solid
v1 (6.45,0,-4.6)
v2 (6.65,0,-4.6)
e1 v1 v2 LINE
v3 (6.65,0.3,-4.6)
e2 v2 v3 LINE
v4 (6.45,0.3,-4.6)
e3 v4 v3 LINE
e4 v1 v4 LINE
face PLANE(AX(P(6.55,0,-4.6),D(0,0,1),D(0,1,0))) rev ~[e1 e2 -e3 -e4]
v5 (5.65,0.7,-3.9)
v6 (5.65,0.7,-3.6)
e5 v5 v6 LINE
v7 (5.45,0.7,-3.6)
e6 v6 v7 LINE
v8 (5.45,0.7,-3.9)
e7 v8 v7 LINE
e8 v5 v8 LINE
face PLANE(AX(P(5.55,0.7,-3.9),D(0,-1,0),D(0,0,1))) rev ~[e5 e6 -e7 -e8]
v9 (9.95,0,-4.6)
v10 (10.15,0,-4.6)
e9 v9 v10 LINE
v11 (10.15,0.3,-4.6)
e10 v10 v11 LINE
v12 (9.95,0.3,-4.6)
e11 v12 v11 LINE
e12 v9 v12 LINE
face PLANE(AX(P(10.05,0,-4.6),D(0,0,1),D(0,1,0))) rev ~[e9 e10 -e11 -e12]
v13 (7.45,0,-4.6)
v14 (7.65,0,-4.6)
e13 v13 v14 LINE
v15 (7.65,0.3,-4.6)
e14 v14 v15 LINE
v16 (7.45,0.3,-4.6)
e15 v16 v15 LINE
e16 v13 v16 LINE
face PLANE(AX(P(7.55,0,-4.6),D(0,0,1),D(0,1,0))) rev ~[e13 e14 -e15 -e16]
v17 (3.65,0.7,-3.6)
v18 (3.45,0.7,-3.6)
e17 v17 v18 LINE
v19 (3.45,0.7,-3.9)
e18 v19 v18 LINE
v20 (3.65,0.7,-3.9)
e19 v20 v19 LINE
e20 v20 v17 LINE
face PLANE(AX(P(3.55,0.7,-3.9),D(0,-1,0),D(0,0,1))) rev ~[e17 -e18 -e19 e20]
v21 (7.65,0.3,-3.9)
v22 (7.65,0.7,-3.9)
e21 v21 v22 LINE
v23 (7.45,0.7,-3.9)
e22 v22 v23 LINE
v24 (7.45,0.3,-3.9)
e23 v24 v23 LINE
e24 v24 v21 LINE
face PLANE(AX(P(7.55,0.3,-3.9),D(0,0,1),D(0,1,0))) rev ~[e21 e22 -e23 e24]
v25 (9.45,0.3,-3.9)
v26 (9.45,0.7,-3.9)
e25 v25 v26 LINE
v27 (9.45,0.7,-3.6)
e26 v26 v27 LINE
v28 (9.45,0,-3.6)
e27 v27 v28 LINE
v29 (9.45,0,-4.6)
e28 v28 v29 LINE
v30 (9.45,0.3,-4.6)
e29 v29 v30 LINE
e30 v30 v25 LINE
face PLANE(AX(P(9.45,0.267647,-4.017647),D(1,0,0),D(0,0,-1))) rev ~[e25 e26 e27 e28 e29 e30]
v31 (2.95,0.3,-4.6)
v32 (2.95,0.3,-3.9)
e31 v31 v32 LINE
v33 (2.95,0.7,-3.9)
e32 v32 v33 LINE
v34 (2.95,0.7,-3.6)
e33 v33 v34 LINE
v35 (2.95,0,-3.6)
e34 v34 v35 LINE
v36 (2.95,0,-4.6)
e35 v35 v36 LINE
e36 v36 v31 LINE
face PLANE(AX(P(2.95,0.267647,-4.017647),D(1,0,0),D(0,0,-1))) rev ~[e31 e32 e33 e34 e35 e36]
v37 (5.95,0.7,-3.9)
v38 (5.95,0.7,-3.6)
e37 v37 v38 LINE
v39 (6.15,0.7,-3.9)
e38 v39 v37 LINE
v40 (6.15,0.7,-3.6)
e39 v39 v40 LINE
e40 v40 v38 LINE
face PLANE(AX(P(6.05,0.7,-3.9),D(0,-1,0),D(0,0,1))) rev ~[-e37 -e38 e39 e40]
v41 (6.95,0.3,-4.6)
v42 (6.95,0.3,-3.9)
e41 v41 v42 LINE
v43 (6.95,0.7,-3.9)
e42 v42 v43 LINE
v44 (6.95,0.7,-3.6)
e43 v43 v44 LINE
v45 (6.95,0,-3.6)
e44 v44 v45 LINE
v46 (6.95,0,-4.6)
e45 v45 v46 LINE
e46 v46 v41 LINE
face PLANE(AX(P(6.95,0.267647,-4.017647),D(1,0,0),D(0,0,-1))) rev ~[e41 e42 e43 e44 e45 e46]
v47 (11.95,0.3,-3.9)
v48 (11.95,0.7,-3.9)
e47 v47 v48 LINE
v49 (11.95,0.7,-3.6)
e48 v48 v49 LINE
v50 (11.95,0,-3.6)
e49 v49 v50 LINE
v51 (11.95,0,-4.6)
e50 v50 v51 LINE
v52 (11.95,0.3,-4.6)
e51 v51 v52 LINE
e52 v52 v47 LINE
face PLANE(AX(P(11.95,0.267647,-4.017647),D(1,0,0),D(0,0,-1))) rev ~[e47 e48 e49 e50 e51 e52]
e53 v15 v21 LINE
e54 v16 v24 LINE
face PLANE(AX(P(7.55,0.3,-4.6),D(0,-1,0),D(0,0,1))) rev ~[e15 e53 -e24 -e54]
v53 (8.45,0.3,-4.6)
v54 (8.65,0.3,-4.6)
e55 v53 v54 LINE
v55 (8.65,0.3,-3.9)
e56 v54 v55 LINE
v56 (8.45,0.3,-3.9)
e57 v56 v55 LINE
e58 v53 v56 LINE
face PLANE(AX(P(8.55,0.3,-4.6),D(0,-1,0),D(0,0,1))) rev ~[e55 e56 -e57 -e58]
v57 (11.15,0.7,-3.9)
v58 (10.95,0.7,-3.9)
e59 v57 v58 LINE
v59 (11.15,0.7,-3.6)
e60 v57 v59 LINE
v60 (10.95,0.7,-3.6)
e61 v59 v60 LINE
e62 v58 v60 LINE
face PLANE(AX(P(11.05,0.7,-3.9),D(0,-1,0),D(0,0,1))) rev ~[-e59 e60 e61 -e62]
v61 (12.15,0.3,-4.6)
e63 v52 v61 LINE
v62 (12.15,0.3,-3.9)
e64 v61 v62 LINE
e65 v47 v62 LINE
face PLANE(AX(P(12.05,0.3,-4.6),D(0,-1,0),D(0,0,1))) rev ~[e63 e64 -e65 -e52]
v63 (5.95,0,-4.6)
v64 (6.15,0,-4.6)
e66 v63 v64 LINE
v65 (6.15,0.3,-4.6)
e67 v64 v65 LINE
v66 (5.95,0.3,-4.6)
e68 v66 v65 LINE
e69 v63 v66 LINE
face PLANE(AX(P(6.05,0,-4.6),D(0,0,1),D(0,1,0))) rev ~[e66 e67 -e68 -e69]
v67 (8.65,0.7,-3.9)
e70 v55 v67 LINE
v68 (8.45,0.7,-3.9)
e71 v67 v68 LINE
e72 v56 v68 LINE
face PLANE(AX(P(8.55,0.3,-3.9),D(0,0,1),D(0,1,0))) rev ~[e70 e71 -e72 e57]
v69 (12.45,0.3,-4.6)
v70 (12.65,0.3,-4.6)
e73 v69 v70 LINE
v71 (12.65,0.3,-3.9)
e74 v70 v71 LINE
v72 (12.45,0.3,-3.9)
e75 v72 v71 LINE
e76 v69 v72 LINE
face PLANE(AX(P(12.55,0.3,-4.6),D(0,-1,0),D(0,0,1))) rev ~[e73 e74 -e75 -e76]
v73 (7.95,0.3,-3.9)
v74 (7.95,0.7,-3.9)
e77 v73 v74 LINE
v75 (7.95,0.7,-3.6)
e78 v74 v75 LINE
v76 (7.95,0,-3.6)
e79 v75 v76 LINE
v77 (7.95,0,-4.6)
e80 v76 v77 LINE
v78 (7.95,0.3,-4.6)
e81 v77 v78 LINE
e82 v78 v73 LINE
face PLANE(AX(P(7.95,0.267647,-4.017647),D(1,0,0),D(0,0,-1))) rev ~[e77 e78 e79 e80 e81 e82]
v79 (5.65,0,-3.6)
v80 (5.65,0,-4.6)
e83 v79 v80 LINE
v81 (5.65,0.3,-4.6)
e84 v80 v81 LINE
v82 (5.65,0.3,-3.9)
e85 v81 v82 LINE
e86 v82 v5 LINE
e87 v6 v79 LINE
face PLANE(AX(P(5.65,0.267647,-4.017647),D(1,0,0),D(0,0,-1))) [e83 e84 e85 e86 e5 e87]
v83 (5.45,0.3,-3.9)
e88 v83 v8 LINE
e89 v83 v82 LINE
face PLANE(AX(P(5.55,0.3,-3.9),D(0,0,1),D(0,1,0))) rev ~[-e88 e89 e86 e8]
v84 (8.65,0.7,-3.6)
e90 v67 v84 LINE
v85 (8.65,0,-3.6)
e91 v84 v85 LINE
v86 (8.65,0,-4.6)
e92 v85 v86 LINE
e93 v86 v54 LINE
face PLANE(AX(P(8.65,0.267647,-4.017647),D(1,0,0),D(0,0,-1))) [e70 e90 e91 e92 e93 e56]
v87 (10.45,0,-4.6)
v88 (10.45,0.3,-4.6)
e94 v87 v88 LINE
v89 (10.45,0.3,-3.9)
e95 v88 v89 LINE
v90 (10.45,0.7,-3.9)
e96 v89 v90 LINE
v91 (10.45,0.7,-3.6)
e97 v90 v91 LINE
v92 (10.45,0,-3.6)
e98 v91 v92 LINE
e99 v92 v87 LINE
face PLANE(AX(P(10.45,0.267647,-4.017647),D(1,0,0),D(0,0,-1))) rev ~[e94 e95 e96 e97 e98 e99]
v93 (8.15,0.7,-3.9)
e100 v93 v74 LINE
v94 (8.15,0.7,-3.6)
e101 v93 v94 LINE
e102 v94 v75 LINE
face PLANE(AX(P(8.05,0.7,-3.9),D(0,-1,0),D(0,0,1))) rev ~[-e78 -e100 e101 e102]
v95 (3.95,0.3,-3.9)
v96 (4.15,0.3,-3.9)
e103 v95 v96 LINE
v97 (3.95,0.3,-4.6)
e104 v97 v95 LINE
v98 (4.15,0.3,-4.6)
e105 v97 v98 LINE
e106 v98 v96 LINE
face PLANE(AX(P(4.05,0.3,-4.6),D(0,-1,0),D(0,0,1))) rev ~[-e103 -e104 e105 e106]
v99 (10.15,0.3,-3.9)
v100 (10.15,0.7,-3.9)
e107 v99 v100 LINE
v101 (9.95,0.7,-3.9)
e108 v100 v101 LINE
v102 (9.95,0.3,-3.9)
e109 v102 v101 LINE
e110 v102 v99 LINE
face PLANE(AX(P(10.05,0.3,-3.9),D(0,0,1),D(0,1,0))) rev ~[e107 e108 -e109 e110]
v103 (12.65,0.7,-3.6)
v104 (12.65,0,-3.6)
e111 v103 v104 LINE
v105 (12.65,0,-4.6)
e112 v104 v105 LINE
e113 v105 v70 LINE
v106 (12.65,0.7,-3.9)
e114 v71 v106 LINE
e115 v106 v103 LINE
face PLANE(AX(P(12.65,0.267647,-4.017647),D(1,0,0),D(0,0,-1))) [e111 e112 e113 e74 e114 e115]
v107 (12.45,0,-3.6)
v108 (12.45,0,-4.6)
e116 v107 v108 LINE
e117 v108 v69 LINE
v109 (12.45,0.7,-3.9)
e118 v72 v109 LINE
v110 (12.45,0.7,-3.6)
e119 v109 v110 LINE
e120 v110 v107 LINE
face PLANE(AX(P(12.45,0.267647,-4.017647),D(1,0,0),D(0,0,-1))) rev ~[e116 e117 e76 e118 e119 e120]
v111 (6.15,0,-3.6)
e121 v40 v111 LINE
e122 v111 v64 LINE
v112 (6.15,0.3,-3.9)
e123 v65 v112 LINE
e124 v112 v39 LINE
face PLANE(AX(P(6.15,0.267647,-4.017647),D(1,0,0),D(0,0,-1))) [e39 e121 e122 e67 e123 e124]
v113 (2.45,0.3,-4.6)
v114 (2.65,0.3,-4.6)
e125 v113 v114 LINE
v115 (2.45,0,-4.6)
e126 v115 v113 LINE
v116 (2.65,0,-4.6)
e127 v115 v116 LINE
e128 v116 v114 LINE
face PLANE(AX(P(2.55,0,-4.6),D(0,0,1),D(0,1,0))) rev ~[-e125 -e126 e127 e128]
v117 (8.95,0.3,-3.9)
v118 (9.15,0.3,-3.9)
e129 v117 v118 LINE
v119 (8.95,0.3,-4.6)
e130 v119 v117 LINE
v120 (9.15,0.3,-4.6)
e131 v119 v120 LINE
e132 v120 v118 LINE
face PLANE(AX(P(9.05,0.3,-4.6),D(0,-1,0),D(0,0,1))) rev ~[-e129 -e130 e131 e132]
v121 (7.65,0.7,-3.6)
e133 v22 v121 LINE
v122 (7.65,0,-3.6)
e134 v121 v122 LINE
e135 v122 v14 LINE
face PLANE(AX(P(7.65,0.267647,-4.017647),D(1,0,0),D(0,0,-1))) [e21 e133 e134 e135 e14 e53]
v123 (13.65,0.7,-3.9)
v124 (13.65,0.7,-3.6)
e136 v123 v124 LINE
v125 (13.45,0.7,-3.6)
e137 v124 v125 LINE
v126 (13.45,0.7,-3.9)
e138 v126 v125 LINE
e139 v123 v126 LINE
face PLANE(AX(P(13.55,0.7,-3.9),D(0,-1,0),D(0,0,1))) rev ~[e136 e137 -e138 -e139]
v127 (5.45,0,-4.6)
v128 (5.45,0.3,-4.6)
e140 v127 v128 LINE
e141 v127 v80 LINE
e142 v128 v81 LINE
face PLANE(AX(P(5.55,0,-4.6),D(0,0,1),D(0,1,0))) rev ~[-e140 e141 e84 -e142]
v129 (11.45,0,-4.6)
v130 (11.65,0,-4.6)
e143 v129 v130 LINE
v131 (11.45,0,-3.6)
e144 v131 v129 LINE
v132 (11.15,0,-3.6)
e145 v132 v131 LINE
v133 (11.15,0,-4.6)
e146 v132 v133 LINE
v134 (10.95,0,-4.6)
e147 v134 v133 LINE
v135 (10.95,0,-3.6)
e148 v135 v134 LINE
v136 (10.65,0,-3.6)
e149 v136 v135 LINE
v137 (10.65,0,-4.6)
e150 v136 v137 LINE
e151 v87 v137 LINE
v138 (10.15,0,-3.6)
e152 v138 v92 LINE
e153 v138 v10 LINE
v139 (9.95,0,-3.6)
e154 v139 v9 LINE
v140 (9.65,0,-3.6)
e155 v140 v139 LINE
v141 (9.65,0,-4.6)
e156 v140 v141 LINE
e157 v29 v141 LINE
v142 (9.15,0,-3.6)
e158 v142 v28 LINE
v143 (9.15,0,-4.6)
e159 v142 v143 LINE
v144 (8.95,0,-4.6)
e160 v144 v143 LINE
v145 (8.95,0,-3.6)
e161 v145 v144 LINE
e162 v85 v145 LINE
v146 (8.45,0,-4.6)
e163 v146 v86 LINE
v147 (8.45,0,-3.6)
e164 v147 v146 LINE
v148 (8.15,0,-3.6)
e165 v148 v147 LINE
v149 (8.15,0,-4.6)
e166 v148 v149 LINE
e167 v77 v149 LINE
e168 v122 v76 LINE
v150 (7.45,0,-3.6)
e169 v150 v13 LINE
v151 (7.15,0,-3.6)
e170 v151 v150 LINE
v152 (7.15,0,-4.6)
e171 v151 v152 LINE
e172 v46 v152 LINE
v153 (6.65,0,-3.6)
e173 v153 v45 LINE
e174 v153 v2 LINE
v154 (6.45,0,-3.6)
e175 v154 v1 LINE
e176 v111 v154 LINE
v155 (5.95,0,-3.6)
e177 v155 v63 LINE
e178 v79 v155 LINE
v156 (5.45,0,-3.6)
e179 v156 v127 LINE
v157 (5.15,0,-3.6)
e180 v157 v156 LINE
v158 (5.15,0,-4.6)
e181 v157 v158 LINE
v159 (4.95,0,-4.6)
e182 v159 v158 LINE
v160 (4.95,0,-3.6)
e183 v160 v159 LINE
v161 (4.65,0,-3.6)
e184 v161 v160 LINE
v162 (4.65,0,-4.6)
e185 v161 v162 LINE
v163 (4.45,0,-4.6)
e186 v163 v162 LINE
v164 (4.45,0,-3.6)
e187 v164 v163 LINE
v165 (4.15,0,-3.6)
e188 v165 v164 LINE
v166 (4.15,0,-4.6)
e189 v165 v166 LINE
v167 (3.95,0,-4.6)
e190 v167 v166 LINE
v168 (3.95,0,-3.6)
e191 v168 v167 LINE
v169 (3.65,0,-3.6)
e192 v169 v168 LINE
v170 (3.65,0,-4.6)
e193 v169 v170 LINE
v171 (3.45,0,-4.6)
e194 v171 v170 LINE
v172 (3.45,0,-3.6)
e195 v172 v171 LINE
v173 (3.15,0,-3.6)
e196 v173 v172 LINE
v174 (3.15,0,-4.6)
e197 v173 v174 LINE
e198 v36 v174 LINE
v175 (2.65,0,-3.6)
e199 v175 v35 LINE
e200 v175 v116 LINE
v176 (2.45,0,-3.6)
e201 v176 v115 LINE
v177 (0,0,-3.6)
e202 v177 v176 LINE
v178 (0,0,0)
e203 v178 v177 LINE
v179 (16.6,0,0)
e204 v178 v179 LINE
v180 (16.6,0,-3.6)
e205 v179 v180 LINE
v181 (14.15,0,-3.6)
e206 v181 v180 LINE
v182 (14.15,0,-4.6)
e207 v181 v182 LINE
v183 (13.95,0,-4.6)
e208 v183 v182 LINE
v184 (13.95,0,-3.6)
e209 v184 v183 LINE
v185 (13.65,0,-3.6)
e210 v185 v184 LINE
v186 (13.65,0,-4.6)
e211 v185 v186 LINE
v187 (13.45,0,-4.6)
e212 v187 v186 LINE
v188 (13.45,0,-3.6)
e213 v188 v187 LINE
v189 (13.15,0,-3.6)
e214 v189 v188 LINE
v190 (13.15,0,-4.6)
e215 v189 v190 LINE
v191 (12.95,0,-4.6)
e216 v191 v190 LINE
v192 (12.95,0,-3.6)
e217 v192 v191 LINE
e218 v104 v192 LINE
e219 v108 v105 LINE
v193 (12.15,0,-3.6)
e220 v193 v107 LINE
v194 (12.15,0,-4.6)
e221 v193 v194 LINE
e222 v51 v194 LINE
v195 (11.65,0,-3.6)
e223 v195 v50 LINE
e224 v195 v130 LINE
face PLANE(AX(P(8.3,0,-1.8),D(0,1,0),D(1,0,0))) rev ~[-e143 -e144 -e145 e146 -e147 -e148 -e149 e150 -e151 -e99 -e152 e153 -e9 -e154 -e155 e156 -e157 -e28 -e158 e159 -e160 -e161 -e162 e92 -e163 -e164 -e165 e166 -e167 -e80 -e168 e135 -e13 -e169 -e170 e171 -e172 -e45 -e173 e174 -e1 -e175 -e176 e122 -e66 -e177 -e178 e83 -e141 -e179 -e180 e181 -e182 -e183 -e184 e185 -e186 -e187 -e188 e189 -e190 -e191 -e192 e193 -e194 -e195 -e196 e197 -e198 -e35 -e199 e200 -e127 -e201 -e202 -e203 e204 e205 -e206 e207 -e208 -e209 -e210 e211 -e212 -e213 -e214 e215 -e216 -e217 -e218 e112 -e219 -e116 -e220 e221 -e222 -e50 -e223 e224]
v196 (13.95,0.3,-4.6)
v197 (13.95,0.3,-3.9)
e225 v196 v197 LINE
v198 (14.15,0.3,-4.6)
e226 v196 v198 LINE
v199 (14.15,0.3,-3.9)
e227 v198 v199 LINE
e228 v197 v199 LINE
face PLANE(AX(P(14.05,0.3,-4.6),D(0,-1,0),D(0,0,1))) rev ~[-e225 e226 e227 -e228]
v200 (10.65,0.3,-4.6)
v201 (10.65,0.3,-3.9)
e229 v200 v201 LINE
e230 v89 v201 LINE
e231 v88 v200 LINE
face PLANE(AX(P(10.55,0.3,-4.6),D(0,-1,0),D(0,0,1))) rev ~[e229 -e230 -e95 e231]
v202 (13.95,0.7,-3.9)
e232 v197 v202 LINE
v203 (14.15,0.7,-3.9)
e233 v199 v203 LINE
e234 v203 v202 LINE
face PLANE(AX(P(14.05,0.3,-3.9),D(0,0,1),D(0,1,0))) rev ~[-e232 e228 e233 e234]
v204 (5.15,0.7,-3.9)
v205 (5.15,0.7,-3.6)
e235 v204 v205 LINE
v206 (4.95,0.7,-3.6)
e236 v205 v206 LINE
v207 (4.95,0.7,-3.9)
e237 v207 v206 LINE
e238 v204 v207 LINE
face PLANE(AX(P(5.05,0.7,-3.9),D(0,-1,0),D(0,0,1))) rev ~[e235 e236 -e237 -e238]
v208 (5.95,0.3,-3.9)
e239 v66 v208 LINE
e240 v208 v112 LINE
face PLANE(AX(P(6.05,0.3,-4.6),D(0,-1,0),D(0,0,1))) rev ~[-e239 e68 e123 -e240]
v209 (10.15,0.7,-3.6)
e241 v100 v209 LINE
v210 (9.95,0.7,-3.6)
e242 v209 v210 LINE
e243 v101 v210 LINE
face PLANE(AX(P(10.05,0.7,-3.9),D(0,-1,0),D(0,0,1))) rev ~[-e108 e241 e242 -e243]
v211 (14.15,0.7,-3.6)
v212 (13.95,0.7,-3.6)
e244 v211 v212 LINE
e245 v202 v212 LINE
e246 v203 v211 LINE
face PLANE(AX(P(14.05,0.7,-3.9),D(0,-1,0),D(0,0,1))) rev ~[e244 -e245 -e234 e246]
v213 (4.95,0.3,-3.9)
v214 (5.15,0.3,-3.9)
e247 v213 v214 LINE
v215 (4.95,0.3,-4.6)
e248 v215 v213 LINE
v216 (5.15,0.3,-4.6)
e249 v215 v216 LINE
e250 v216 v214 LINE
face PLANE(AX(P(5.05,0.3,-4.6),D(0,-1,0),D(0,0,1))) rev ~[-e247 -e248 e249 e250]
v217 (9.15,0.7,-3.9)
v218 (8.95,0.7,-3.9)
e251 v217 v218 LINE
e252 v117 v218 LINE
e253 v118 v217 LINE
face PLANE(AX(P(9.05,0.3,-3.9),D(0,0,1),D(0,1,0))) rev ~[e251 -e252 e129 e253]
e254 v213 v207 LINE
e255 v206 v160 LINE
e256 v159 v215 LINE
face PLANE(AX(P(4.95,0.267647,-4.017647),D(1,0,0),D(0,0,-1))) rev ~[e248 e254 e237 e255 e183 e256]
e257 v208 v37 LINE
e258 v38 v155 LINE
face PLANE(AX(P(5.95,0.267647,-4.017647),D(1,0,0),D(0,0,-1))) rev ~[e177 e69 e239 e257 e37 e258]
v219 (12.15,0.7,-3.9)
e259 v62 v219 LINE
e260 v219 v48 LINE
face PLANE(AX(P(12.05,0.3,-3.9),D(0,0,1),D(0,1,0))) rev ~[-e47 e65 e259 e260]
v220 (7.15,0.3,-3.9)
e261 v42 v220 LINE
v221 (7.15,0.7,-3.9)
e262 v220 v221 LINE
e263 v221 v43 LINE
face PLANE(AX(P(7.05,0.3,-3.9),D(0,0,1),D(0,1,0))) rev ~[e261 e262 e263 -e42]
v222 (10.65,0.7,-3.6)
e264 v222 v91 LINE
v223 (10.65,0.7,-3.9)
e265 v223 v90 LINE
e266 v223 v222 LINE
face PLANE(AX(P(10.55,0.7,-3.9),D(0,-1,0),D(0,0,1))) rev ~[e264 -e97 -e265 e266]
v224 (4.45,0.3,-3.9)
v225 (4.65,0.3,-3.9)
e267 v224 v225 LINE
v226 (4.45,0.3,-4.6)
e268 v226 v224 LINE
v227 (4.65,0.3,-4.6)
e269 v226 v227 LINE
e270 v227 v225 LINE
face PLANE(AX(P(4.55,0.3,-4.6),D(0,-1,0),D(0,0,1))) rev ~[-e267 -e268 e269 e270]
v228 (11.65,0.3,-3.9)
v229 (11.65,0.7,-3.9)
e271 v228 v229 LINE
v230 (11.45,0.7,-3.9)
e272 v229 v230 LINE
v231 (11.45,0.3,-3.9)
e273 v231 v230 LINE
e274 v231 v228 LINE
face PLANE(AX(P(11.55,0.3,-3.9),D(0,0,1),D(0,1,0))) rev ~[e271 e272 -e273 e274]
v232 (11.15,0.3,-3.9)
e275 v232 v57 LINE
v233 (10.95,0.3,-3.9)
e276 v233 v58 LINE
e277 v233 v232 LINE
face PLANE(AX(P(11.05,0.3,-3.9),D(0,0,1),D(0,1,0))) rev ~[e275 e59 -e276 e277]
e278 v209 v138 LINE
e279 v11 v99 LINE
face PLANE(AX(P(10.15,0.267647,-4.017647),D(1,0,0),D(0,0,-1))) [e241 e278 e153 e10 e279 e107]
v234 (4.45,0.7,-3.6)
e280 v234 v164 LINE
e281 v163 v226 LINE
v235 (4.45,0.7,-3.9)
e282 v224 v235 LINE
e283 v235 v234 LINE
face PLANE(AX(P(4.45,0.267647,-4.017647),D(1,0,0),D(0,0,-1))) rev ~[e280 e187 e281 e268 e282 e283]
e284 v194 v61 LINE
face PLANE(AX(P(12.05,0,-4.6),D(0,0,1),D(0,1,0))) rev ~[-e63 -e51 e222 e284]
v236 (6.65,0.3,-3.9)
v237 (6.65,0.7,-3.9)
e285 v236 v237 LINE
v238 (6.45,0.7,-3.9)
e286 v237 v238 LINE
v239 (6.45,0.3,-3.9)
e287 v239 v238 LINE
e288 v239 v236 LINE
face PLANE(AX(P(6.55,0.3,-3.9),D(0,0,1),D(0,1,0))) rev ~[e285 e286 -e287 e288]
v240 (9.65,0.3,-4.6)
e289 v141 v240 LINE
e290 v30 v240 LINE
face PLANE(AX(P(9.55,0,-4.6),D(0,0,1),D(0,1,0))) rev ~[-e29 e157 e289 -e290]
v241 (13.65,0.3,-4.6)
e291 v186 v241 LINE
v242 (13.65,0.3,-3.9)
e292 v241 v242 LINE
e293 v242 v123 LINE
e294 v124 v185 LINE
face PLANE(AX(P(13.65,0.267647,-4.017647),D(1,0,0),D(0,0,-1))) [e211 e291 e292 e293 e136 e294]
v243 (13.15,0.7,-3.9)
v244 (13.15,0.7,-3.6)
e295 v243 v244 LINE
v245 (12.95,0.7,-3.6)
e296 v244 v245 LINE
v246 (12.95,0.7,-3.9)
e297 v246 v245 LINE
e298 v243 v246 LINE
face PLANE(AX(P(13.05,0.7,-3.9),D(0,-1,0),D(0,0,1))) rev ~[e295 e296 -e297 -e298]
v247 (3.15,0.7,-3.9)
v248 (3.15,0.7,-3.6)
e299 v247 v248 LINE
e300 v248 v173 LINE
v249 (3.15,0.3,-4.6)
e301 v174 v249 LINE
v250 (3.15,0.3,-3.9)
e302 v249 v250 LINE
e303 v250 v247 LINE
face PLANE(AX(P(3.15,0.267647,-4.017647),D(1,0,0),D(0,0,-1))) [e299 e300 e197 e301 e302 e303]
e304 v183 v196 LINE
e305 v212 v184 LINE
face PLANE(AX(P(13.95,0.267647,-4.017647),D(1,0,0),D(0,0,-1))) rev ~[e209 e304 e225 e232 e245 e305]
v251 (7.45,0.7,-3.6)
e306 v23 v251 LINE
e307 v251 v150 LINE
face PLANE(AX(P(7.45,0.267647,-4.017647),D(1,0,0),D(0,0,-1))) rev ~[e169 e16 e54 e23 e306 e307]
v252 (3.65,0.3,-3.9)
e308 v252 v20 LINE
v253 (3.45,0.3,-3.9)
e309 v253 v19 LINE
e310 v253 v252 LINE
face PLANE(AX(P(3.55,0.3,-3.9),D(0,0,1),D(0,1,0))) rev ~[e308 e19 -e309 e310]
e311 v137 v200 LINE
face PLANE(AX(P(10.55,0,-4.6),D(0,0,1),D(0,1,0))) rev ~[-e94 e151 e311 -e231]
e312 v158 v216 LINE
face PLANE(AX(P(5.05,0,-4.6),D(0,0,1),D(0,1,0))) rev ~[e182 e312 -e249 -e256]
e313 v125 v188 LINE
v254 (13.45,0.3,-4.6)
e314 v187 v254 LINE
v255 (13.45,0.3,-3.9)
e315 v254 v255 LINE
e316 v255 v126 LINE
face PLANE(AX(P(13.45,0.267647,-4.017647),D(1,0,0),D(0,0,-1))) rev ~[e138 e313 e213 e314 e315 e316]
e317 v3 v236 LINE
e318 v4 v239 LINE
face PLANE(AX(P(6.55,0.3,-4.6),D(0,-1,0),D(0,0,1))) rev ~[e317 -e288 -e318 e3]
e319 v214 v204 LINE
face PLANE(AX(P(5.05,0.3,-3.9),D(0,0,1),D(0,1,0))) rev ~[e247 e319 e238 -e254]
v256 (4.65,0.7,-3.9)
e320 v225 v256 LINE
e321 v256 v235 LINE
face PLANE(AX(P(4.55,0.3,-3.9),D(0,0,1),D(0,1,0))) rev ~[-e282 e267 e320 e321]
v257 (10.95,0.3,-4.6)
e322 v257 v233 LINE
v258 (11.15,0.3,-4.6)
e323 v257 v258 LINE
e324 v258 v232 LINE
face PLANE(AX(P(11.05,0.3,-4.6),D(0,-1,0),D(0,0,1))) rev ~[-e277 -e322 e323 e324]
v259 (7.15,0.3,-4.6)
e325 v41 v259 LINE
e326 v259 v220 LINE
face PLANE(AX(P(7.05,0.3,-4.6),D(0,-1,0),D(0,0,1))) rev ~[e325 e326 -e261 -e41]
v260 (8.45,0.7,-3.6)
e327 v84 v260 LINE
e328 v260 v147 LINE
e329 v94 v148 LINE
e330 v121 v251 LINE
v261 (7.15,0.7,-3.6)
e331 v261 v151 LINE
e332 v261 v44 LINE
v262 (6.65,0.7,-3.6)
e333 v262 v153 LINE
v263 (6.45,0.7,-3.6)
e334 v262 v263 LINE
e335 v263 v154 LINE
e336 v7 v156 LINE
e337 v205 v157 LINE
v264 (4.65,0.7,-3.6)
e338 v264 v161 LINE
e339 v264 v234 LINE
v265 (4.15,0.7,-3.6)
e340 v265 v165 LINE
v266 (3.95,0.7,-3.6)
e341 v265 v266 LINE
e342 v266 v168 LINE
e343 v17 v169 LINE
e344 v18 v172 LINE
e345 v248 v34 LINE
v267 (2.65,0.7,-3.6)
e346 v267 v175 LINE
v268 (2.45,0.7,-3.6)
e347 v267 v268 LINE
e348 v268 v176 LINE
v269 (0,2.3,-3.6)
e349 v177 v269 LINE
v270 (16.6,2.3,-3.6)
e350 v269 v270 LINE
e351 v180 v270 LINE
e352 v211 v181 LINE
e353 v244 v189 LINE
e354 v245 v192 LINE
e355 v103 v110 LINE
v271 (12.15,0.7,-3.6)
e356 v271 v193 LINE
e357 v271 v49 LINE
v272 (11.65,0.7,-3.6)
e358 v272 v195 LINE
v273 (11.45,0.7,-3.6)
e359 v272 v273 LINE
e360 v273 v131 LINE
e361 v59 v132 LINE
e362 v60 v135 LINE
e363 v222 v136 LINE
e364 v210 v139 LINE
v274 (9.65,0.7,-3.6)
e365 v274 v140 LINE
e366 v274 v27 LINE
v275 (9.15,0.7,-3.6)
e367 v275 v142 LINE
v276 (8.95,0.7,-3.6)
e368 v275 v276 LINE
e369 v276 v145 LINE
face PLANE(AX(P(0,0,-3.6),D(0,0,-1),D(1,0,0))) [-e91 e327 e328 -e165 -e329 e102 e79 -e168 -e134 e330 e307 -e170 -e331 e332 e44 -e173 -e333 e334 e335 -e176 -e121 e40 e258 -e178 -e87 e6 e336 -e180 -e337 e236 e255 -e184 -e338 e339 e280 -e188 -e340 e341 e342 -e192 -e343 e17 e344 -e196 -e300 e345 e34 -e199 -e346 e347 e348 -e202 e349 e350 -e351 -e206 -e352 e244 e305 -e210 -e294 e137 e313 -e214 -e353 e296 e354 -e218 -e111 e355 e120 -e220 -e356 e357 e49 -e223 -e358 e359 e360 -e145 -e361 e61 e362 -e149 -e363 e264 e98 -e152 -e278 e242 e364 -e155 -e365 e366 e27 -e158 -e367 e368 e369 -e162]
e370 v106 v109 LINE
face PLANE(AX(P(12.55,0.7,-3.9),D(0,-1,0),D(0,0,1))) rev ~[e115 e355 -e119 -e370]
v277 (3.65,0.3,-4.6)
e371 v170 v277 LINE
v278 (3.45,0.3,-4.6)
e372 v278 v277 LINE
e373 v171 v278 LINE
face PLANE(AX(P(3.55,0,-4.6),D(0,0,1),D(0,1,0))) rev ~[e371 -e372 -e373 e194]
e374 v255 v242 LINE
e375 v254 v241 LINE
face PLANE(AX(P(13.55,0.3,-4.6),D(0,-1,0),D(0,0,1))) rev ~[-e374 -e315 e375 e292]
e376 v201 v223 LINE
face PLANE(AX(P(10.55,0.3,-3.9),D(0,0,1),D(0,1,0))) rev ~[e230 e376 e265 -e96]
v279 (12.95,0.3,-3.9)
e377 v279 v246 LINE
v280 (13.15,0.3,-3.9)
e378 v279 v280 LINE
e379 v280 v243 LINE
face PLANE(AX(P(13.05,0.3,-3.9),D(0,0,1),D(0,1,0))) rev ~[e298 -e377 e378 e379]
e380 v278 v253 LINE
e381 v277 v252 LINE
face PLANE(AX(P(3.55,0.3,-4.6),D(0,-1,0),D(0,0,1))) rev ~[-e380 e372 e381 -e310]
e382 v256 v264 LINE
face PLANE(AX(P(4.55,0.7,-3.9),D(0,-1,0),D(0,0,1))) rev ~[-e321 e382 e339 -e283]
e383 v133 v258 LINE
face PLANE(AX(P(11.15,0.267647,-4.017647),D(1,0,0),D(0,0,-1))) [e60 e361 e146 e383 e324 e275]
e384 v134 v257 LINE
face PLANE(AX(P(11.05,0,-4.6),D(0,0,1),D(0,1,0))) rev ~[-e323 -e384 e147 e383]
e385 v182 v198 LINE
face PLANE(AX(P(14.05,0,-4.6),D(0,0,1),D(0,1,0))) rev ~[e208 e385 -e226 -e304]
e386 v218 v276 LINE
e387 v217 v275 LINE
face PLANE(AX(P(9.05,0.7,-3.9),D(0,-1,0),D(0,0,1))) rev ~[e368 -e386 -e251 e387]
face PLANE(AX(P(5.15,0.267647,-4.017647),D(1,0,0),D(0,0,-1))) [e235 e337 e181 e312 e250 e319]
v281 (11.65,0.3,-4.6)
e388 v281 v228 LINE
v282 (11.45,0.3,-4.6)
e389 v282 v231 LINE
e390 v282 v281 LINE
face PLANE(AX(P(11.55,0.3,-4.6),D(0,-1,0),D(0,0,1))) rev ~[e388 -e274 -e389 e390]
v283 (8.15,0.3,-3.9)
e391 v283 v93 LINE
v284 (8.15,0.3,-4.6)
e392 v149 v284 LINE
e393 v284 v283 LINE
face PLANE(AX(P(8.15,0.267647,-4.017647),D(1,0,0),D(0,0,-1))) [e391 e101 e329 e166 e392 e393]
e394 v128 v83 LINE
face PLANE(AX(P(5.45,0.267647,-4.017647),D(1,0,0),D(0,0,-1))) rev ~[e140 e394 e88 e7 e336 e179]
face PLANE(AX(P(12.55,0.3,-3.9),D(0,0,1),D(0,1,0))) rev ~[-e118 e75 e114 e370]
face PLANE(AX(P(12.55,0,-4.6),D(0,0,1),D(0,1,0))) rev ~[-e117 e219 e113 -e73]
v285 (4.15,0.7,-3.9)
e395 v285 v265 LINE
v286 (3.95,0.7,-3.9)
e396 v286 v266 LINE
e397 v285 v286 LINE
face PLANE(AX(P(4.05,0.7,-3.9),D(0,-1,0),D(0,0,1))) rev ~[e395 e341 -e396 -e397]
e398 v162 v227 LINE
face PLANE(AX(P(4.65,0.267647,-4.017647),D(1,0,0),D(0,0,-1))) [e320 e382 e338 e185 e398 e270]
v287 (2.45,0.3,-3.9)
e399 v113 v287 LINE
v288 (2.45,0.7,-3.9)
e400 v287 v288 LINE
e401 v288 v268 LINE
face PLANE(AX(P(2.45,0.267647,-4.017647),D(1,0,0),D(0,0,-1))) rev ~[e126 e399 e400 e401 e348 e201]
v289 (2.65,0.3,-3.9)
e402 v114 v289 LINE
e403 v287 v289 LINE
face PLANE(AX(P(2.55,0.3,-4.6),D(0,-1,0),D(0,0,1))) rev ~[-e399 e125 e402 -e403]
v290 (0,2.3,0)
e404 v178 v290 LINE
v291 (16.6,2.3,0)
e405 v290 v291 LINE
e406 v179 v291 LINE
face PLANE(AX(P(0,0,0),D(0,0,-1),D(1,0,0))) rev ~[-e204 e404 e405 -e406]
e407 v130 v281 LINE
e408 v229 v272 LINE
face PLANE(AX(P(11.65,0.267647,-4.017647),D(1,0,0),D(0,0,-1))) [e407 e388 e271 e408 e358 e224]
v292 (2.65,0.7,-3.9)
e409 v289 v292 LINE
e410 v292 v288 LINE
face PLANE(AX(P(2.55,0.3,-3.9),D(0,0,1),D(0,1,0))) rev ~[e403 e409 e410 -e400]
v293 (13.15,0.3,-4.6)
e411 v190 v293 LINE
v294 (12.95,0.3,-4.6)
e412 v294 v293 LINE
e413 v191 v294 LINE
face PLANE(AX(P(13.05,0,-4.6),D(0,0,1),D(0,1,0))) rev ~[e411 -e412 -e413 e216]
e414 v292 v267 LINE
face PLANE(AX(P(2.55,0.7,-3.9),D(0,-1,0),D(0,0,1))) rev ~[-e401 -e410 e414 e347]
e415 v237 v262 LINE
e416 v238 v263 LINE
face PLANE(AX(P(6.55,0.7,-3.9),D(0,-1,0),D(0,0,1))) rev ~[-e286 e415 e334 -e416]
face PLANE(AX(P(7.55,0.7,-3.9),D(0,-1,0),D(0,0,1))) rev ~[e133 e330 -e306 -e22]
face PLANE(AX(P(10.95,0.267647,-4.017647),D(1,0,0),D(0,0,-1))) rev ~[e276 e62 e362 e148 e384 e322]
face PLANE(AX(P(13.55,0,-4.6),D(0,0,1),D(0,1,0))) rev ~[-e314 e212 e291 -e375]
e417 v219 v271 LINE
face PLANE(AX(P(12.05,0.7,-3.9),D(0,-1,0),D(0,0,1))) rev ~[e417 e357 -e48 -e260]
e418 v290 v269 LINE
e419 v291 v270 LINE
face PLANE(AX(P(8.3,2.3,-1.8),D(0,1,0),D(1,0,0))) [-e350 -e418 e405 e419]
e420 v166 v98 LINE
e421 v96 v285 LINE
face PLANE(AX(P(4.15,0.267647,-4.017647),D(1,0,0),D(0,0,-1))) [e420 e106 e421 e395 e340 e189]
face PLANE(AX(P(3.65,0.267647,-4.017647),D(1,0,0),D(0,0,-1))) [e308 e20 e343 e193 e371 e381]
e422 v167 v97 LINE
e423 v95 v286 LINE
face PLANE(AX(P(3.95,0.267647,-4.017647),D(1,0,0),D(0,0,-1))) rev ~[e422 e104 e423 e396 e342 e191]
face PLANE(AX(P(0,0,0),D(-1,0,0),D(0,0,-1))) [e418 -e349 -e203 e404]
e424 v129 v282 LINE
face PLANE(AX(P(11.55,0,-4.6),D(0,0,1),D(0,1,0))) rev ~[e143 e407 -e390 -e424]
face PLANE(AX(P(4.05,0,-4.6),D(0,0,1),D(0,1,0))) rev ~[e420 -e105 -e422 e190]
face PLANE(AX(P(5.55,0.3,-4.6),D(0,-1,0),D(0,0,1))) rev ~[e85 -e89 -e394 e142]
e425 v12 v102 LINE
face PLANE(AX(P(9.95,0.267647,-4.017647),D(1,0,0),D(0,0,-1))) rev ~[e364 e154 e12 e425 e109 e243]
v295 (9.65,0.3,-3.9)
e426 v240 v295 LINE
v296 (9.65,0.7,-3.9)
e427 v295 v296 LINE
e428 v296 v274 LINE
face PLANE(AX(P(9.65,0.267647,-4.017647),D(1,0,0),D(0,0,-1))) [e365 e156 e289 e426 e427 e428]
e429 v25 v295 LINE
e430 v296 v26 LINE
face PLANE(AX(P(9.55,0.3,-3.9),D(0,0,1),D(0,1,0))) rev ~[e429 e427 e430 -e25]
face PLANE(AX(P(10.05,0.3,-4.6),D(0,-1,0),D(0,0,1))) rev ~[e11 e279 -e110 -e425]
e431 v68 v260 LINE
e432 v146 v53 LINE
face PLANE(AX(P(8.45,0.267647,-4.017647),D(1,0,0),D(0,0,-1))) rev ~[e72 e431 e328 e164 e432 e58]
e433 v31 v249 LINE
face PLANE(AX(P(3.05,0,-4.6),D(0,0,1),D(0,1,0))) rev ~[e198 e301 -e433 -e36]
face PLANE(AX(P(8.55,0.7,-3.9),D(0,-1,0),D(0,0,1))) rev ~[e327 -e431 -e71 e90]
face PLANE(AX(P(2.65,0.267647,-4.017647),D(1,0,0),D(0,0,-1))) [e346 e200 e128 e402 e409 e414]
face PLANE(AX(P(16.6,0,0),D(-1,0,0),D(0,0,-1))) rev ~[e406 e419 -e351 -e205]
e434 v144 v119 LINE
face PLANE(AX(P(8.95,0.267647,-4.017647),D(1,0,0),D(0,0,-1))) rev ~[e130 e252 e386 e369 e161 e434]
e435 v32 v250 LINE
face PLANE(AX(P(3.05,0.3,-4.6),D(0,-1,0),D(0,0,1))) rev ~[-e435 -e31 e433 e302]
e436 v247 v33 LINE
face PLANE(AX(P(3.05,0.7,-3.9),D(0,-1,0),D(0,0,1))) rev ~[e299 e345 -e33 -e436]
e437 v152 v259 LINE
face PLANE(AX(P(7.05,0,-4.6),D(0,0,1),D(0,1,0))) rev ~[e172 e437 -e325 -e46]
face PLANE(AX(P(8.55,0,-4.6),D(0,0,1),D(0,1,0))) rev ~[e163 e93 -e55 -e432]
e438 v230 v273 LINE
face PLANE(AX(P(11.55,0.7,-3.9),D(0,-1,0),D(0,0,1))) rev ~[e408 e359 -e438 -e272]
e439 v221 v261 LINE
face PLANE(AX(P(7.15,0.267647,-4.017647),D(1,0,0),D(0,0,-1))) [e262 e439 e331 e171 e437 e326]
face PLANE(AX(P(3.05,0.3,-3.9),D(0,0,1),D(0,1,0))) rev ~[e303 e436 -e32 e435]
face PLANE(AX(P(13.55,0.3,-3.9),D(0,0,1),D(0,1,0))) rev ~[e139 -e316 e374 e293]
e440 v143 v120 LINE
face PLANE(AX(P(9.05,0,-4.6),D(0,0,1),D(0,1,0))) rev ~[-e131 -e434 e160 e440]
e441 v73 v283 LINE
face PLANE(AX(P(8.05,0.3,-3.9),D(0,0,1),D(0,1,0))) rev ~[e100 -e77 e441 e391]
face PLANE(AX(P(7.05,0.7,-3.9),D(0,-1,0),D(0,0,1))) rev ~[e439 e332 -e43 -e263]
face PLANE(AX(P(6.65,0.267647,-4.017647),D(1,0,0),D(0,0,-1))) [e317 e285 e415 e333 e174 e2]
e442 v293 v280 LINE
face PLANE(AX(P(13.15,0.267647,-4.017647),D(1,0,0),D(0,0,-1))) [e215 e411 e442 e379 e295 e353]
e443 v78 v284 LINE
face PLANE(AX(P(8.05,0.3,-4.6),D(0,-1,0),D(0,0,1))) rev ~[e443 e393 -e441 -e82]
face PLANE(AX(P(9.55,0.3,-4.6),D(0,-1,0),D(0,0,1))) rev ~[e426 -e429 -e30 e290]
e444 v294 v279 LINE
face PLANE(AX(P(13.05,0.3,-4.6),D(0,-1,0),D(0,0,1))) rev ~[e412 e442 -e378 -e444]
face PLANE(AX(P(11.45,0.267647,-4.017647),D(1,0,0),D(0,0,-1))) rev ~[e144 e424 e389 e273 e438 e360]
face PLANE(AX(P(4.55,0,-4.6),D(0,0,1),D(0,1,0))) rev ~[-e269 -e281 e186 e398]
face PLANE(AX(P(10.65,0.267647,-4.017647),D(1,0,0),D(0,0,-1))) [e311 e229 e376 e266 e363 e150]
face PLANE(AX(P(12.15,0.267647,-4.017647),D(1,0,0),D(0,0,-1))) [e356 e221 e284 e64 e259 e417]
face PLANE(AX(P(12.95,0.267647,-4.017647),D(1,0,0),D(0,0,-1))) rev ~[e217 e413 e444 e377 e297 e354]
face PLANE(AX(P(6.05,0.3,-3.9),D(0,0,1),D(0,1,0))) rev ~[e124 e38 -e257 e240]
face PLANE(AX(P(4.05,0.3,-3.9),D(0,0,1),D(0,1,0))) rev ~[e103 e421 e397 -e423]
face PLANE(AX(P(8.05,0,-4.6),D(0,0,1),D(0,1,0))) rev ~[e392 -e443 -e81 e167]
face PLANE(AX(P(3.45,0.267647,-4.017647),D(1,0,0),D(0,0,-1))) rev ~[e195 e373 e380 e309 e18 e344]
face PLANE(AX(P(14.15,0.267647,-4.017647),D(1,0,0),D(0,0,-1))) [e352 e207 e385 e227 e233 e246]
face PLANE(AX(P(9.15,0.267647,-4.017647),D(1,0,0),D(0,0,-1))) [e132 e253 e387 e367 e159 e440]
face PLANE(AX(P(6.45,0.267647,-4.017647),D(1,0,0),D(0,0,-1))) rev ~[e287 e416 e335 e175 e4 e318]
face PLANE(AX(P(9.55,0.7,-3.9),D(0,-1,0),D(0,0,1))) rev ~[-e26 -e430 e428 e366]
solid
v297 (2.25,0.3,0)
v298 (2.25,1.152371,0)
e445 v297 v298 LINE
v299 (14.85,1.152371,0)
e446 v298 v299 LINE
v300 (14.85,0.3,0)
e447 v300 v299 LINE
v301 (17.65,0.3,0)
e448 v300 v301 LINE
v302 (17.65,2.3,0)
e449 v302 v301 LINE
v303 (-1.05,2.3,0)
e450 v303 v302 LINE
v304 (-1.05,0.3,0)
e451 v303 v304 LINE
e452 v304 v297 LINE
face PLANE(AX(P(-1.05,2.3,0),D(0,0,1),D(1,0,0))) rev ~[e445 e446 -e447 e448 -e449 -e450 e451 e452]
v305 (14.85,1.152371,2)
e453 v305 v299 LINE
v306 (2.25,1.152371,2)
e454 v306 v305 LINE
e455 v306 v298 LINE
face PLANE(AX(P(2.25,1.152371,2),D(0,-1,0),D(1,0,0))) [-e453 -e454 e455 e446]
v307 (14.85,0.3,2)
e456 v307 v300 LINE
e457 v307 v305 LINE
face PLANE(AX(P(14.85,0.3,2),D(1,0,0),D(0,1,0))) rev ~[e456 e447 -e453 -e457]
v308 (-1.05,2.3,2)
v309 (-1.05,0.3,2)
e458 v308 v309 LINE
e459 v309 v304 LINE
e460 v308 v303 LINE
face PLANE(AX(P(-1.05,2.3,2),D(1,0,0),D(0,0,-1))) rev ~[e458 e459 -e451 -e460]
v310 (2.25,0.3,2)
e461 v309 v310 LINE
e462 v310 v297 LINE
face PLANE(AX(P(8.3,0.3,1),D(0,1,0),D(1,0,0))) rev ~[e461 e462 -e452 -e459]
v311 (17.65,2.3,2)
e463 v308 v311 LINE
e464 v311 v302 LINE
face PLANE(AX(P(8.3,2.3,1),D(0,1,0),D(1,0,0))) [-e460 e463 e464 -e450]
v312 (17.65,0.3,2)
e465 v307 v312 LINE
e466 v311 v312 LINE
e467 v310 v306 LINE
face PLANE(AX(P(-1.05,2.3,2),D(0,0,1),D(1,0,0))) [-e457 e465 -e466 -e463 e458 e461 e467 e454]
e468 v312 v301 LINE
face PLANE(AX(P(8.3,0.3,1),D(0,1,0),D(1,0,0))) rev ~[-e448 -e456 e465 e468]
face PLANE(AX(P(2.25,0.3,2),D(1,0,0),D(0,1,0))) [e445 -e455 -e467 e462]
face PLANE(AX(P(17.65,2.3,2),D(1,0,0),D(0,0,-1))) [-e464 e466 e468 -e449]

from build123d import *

# Parameters (mm, degrees)
SKETCH1_W           = 16.6
SKETCH1_H           = 3.6
BOSS_EXTRUDE1_DEPTH = 2.3
SKETCH2_W           = 18.7
SKETCH2_H           = 2
BOSS_EXTRUDE2_DEPTH = 2
BOSS_EXTRUDE5_DEPTH = 0.1
LPATTERN2_COUNT     = 24
LPATTERN2_PITCH     = 0.5
SKETCH4_W           = 12.6
SKETCH4_H           = 0.85237051
CUT_EXTRUDE2_DEPTH  = 2


with BuildPart() as part:
    # Sketch1 → Boss-Extrude1 (new body)
    with BuildSketch(Plane(origin=(0, 0, 0), x_dir=(1, 0, 0), z_dir=(0, 1, 0))):
        with Locations((8.3, 1.8)):
            Rectangle(SKETCH1_W, SKETCH1_H)
    extrude(amount=BOSS_EXTRUDE1_DEPTH)

    # Sketch3 → Boss-Extrude5 (add, symmetric)
    with BuildSketch(Plane.ZY.offset(-2.55)):
        Polygon((-3.6, 0), (-4.6, 0), (-4.6, 0.3), (-3.9, 0.3), (-3.9, 0.7), (-3.6, 0.7), align=None)
    boss_extrude5 = extrude(amount=BOSS_EXTRUDE5_DEPTH, both=True)

    # LPattern2: Boss-Extrude5 ×24
    with Locations(*[(i * LPATTERN2_PITCH, 0, 0) for i in range(1, LPATTERN2_COUNT)]):
        add(boss_extrude5)


with BuildPart() as body_2:
    # Sketch2 → Boss-Extrude2 (new body)
    with BuildSketch(Plane(origin=(0, 2.3, 0), x_dir=(1, 0, 0), z_dir=(0, 1, 0))):
        with Locations((8.3, -1)):
            Rectangle(SKETCH2_W, SKETCH2_H)
    extrude(amount=-BOSS_EXTRUDE2_DEPTH)

    # Sketch4 → Cut-Extrude2 (cut)
    with BuildSketch(Plane.XY.offset(2)):
        with Locations((8.55, 0.726185255)):
            Rectangle(SKETCH4_W, SKETCH4_H)
    extrude(amount=-CUT_EXTRUDE2_DEPTH, mode=Mode.SUBTRACT)


solid = Compound([part.part, body_2.part])
